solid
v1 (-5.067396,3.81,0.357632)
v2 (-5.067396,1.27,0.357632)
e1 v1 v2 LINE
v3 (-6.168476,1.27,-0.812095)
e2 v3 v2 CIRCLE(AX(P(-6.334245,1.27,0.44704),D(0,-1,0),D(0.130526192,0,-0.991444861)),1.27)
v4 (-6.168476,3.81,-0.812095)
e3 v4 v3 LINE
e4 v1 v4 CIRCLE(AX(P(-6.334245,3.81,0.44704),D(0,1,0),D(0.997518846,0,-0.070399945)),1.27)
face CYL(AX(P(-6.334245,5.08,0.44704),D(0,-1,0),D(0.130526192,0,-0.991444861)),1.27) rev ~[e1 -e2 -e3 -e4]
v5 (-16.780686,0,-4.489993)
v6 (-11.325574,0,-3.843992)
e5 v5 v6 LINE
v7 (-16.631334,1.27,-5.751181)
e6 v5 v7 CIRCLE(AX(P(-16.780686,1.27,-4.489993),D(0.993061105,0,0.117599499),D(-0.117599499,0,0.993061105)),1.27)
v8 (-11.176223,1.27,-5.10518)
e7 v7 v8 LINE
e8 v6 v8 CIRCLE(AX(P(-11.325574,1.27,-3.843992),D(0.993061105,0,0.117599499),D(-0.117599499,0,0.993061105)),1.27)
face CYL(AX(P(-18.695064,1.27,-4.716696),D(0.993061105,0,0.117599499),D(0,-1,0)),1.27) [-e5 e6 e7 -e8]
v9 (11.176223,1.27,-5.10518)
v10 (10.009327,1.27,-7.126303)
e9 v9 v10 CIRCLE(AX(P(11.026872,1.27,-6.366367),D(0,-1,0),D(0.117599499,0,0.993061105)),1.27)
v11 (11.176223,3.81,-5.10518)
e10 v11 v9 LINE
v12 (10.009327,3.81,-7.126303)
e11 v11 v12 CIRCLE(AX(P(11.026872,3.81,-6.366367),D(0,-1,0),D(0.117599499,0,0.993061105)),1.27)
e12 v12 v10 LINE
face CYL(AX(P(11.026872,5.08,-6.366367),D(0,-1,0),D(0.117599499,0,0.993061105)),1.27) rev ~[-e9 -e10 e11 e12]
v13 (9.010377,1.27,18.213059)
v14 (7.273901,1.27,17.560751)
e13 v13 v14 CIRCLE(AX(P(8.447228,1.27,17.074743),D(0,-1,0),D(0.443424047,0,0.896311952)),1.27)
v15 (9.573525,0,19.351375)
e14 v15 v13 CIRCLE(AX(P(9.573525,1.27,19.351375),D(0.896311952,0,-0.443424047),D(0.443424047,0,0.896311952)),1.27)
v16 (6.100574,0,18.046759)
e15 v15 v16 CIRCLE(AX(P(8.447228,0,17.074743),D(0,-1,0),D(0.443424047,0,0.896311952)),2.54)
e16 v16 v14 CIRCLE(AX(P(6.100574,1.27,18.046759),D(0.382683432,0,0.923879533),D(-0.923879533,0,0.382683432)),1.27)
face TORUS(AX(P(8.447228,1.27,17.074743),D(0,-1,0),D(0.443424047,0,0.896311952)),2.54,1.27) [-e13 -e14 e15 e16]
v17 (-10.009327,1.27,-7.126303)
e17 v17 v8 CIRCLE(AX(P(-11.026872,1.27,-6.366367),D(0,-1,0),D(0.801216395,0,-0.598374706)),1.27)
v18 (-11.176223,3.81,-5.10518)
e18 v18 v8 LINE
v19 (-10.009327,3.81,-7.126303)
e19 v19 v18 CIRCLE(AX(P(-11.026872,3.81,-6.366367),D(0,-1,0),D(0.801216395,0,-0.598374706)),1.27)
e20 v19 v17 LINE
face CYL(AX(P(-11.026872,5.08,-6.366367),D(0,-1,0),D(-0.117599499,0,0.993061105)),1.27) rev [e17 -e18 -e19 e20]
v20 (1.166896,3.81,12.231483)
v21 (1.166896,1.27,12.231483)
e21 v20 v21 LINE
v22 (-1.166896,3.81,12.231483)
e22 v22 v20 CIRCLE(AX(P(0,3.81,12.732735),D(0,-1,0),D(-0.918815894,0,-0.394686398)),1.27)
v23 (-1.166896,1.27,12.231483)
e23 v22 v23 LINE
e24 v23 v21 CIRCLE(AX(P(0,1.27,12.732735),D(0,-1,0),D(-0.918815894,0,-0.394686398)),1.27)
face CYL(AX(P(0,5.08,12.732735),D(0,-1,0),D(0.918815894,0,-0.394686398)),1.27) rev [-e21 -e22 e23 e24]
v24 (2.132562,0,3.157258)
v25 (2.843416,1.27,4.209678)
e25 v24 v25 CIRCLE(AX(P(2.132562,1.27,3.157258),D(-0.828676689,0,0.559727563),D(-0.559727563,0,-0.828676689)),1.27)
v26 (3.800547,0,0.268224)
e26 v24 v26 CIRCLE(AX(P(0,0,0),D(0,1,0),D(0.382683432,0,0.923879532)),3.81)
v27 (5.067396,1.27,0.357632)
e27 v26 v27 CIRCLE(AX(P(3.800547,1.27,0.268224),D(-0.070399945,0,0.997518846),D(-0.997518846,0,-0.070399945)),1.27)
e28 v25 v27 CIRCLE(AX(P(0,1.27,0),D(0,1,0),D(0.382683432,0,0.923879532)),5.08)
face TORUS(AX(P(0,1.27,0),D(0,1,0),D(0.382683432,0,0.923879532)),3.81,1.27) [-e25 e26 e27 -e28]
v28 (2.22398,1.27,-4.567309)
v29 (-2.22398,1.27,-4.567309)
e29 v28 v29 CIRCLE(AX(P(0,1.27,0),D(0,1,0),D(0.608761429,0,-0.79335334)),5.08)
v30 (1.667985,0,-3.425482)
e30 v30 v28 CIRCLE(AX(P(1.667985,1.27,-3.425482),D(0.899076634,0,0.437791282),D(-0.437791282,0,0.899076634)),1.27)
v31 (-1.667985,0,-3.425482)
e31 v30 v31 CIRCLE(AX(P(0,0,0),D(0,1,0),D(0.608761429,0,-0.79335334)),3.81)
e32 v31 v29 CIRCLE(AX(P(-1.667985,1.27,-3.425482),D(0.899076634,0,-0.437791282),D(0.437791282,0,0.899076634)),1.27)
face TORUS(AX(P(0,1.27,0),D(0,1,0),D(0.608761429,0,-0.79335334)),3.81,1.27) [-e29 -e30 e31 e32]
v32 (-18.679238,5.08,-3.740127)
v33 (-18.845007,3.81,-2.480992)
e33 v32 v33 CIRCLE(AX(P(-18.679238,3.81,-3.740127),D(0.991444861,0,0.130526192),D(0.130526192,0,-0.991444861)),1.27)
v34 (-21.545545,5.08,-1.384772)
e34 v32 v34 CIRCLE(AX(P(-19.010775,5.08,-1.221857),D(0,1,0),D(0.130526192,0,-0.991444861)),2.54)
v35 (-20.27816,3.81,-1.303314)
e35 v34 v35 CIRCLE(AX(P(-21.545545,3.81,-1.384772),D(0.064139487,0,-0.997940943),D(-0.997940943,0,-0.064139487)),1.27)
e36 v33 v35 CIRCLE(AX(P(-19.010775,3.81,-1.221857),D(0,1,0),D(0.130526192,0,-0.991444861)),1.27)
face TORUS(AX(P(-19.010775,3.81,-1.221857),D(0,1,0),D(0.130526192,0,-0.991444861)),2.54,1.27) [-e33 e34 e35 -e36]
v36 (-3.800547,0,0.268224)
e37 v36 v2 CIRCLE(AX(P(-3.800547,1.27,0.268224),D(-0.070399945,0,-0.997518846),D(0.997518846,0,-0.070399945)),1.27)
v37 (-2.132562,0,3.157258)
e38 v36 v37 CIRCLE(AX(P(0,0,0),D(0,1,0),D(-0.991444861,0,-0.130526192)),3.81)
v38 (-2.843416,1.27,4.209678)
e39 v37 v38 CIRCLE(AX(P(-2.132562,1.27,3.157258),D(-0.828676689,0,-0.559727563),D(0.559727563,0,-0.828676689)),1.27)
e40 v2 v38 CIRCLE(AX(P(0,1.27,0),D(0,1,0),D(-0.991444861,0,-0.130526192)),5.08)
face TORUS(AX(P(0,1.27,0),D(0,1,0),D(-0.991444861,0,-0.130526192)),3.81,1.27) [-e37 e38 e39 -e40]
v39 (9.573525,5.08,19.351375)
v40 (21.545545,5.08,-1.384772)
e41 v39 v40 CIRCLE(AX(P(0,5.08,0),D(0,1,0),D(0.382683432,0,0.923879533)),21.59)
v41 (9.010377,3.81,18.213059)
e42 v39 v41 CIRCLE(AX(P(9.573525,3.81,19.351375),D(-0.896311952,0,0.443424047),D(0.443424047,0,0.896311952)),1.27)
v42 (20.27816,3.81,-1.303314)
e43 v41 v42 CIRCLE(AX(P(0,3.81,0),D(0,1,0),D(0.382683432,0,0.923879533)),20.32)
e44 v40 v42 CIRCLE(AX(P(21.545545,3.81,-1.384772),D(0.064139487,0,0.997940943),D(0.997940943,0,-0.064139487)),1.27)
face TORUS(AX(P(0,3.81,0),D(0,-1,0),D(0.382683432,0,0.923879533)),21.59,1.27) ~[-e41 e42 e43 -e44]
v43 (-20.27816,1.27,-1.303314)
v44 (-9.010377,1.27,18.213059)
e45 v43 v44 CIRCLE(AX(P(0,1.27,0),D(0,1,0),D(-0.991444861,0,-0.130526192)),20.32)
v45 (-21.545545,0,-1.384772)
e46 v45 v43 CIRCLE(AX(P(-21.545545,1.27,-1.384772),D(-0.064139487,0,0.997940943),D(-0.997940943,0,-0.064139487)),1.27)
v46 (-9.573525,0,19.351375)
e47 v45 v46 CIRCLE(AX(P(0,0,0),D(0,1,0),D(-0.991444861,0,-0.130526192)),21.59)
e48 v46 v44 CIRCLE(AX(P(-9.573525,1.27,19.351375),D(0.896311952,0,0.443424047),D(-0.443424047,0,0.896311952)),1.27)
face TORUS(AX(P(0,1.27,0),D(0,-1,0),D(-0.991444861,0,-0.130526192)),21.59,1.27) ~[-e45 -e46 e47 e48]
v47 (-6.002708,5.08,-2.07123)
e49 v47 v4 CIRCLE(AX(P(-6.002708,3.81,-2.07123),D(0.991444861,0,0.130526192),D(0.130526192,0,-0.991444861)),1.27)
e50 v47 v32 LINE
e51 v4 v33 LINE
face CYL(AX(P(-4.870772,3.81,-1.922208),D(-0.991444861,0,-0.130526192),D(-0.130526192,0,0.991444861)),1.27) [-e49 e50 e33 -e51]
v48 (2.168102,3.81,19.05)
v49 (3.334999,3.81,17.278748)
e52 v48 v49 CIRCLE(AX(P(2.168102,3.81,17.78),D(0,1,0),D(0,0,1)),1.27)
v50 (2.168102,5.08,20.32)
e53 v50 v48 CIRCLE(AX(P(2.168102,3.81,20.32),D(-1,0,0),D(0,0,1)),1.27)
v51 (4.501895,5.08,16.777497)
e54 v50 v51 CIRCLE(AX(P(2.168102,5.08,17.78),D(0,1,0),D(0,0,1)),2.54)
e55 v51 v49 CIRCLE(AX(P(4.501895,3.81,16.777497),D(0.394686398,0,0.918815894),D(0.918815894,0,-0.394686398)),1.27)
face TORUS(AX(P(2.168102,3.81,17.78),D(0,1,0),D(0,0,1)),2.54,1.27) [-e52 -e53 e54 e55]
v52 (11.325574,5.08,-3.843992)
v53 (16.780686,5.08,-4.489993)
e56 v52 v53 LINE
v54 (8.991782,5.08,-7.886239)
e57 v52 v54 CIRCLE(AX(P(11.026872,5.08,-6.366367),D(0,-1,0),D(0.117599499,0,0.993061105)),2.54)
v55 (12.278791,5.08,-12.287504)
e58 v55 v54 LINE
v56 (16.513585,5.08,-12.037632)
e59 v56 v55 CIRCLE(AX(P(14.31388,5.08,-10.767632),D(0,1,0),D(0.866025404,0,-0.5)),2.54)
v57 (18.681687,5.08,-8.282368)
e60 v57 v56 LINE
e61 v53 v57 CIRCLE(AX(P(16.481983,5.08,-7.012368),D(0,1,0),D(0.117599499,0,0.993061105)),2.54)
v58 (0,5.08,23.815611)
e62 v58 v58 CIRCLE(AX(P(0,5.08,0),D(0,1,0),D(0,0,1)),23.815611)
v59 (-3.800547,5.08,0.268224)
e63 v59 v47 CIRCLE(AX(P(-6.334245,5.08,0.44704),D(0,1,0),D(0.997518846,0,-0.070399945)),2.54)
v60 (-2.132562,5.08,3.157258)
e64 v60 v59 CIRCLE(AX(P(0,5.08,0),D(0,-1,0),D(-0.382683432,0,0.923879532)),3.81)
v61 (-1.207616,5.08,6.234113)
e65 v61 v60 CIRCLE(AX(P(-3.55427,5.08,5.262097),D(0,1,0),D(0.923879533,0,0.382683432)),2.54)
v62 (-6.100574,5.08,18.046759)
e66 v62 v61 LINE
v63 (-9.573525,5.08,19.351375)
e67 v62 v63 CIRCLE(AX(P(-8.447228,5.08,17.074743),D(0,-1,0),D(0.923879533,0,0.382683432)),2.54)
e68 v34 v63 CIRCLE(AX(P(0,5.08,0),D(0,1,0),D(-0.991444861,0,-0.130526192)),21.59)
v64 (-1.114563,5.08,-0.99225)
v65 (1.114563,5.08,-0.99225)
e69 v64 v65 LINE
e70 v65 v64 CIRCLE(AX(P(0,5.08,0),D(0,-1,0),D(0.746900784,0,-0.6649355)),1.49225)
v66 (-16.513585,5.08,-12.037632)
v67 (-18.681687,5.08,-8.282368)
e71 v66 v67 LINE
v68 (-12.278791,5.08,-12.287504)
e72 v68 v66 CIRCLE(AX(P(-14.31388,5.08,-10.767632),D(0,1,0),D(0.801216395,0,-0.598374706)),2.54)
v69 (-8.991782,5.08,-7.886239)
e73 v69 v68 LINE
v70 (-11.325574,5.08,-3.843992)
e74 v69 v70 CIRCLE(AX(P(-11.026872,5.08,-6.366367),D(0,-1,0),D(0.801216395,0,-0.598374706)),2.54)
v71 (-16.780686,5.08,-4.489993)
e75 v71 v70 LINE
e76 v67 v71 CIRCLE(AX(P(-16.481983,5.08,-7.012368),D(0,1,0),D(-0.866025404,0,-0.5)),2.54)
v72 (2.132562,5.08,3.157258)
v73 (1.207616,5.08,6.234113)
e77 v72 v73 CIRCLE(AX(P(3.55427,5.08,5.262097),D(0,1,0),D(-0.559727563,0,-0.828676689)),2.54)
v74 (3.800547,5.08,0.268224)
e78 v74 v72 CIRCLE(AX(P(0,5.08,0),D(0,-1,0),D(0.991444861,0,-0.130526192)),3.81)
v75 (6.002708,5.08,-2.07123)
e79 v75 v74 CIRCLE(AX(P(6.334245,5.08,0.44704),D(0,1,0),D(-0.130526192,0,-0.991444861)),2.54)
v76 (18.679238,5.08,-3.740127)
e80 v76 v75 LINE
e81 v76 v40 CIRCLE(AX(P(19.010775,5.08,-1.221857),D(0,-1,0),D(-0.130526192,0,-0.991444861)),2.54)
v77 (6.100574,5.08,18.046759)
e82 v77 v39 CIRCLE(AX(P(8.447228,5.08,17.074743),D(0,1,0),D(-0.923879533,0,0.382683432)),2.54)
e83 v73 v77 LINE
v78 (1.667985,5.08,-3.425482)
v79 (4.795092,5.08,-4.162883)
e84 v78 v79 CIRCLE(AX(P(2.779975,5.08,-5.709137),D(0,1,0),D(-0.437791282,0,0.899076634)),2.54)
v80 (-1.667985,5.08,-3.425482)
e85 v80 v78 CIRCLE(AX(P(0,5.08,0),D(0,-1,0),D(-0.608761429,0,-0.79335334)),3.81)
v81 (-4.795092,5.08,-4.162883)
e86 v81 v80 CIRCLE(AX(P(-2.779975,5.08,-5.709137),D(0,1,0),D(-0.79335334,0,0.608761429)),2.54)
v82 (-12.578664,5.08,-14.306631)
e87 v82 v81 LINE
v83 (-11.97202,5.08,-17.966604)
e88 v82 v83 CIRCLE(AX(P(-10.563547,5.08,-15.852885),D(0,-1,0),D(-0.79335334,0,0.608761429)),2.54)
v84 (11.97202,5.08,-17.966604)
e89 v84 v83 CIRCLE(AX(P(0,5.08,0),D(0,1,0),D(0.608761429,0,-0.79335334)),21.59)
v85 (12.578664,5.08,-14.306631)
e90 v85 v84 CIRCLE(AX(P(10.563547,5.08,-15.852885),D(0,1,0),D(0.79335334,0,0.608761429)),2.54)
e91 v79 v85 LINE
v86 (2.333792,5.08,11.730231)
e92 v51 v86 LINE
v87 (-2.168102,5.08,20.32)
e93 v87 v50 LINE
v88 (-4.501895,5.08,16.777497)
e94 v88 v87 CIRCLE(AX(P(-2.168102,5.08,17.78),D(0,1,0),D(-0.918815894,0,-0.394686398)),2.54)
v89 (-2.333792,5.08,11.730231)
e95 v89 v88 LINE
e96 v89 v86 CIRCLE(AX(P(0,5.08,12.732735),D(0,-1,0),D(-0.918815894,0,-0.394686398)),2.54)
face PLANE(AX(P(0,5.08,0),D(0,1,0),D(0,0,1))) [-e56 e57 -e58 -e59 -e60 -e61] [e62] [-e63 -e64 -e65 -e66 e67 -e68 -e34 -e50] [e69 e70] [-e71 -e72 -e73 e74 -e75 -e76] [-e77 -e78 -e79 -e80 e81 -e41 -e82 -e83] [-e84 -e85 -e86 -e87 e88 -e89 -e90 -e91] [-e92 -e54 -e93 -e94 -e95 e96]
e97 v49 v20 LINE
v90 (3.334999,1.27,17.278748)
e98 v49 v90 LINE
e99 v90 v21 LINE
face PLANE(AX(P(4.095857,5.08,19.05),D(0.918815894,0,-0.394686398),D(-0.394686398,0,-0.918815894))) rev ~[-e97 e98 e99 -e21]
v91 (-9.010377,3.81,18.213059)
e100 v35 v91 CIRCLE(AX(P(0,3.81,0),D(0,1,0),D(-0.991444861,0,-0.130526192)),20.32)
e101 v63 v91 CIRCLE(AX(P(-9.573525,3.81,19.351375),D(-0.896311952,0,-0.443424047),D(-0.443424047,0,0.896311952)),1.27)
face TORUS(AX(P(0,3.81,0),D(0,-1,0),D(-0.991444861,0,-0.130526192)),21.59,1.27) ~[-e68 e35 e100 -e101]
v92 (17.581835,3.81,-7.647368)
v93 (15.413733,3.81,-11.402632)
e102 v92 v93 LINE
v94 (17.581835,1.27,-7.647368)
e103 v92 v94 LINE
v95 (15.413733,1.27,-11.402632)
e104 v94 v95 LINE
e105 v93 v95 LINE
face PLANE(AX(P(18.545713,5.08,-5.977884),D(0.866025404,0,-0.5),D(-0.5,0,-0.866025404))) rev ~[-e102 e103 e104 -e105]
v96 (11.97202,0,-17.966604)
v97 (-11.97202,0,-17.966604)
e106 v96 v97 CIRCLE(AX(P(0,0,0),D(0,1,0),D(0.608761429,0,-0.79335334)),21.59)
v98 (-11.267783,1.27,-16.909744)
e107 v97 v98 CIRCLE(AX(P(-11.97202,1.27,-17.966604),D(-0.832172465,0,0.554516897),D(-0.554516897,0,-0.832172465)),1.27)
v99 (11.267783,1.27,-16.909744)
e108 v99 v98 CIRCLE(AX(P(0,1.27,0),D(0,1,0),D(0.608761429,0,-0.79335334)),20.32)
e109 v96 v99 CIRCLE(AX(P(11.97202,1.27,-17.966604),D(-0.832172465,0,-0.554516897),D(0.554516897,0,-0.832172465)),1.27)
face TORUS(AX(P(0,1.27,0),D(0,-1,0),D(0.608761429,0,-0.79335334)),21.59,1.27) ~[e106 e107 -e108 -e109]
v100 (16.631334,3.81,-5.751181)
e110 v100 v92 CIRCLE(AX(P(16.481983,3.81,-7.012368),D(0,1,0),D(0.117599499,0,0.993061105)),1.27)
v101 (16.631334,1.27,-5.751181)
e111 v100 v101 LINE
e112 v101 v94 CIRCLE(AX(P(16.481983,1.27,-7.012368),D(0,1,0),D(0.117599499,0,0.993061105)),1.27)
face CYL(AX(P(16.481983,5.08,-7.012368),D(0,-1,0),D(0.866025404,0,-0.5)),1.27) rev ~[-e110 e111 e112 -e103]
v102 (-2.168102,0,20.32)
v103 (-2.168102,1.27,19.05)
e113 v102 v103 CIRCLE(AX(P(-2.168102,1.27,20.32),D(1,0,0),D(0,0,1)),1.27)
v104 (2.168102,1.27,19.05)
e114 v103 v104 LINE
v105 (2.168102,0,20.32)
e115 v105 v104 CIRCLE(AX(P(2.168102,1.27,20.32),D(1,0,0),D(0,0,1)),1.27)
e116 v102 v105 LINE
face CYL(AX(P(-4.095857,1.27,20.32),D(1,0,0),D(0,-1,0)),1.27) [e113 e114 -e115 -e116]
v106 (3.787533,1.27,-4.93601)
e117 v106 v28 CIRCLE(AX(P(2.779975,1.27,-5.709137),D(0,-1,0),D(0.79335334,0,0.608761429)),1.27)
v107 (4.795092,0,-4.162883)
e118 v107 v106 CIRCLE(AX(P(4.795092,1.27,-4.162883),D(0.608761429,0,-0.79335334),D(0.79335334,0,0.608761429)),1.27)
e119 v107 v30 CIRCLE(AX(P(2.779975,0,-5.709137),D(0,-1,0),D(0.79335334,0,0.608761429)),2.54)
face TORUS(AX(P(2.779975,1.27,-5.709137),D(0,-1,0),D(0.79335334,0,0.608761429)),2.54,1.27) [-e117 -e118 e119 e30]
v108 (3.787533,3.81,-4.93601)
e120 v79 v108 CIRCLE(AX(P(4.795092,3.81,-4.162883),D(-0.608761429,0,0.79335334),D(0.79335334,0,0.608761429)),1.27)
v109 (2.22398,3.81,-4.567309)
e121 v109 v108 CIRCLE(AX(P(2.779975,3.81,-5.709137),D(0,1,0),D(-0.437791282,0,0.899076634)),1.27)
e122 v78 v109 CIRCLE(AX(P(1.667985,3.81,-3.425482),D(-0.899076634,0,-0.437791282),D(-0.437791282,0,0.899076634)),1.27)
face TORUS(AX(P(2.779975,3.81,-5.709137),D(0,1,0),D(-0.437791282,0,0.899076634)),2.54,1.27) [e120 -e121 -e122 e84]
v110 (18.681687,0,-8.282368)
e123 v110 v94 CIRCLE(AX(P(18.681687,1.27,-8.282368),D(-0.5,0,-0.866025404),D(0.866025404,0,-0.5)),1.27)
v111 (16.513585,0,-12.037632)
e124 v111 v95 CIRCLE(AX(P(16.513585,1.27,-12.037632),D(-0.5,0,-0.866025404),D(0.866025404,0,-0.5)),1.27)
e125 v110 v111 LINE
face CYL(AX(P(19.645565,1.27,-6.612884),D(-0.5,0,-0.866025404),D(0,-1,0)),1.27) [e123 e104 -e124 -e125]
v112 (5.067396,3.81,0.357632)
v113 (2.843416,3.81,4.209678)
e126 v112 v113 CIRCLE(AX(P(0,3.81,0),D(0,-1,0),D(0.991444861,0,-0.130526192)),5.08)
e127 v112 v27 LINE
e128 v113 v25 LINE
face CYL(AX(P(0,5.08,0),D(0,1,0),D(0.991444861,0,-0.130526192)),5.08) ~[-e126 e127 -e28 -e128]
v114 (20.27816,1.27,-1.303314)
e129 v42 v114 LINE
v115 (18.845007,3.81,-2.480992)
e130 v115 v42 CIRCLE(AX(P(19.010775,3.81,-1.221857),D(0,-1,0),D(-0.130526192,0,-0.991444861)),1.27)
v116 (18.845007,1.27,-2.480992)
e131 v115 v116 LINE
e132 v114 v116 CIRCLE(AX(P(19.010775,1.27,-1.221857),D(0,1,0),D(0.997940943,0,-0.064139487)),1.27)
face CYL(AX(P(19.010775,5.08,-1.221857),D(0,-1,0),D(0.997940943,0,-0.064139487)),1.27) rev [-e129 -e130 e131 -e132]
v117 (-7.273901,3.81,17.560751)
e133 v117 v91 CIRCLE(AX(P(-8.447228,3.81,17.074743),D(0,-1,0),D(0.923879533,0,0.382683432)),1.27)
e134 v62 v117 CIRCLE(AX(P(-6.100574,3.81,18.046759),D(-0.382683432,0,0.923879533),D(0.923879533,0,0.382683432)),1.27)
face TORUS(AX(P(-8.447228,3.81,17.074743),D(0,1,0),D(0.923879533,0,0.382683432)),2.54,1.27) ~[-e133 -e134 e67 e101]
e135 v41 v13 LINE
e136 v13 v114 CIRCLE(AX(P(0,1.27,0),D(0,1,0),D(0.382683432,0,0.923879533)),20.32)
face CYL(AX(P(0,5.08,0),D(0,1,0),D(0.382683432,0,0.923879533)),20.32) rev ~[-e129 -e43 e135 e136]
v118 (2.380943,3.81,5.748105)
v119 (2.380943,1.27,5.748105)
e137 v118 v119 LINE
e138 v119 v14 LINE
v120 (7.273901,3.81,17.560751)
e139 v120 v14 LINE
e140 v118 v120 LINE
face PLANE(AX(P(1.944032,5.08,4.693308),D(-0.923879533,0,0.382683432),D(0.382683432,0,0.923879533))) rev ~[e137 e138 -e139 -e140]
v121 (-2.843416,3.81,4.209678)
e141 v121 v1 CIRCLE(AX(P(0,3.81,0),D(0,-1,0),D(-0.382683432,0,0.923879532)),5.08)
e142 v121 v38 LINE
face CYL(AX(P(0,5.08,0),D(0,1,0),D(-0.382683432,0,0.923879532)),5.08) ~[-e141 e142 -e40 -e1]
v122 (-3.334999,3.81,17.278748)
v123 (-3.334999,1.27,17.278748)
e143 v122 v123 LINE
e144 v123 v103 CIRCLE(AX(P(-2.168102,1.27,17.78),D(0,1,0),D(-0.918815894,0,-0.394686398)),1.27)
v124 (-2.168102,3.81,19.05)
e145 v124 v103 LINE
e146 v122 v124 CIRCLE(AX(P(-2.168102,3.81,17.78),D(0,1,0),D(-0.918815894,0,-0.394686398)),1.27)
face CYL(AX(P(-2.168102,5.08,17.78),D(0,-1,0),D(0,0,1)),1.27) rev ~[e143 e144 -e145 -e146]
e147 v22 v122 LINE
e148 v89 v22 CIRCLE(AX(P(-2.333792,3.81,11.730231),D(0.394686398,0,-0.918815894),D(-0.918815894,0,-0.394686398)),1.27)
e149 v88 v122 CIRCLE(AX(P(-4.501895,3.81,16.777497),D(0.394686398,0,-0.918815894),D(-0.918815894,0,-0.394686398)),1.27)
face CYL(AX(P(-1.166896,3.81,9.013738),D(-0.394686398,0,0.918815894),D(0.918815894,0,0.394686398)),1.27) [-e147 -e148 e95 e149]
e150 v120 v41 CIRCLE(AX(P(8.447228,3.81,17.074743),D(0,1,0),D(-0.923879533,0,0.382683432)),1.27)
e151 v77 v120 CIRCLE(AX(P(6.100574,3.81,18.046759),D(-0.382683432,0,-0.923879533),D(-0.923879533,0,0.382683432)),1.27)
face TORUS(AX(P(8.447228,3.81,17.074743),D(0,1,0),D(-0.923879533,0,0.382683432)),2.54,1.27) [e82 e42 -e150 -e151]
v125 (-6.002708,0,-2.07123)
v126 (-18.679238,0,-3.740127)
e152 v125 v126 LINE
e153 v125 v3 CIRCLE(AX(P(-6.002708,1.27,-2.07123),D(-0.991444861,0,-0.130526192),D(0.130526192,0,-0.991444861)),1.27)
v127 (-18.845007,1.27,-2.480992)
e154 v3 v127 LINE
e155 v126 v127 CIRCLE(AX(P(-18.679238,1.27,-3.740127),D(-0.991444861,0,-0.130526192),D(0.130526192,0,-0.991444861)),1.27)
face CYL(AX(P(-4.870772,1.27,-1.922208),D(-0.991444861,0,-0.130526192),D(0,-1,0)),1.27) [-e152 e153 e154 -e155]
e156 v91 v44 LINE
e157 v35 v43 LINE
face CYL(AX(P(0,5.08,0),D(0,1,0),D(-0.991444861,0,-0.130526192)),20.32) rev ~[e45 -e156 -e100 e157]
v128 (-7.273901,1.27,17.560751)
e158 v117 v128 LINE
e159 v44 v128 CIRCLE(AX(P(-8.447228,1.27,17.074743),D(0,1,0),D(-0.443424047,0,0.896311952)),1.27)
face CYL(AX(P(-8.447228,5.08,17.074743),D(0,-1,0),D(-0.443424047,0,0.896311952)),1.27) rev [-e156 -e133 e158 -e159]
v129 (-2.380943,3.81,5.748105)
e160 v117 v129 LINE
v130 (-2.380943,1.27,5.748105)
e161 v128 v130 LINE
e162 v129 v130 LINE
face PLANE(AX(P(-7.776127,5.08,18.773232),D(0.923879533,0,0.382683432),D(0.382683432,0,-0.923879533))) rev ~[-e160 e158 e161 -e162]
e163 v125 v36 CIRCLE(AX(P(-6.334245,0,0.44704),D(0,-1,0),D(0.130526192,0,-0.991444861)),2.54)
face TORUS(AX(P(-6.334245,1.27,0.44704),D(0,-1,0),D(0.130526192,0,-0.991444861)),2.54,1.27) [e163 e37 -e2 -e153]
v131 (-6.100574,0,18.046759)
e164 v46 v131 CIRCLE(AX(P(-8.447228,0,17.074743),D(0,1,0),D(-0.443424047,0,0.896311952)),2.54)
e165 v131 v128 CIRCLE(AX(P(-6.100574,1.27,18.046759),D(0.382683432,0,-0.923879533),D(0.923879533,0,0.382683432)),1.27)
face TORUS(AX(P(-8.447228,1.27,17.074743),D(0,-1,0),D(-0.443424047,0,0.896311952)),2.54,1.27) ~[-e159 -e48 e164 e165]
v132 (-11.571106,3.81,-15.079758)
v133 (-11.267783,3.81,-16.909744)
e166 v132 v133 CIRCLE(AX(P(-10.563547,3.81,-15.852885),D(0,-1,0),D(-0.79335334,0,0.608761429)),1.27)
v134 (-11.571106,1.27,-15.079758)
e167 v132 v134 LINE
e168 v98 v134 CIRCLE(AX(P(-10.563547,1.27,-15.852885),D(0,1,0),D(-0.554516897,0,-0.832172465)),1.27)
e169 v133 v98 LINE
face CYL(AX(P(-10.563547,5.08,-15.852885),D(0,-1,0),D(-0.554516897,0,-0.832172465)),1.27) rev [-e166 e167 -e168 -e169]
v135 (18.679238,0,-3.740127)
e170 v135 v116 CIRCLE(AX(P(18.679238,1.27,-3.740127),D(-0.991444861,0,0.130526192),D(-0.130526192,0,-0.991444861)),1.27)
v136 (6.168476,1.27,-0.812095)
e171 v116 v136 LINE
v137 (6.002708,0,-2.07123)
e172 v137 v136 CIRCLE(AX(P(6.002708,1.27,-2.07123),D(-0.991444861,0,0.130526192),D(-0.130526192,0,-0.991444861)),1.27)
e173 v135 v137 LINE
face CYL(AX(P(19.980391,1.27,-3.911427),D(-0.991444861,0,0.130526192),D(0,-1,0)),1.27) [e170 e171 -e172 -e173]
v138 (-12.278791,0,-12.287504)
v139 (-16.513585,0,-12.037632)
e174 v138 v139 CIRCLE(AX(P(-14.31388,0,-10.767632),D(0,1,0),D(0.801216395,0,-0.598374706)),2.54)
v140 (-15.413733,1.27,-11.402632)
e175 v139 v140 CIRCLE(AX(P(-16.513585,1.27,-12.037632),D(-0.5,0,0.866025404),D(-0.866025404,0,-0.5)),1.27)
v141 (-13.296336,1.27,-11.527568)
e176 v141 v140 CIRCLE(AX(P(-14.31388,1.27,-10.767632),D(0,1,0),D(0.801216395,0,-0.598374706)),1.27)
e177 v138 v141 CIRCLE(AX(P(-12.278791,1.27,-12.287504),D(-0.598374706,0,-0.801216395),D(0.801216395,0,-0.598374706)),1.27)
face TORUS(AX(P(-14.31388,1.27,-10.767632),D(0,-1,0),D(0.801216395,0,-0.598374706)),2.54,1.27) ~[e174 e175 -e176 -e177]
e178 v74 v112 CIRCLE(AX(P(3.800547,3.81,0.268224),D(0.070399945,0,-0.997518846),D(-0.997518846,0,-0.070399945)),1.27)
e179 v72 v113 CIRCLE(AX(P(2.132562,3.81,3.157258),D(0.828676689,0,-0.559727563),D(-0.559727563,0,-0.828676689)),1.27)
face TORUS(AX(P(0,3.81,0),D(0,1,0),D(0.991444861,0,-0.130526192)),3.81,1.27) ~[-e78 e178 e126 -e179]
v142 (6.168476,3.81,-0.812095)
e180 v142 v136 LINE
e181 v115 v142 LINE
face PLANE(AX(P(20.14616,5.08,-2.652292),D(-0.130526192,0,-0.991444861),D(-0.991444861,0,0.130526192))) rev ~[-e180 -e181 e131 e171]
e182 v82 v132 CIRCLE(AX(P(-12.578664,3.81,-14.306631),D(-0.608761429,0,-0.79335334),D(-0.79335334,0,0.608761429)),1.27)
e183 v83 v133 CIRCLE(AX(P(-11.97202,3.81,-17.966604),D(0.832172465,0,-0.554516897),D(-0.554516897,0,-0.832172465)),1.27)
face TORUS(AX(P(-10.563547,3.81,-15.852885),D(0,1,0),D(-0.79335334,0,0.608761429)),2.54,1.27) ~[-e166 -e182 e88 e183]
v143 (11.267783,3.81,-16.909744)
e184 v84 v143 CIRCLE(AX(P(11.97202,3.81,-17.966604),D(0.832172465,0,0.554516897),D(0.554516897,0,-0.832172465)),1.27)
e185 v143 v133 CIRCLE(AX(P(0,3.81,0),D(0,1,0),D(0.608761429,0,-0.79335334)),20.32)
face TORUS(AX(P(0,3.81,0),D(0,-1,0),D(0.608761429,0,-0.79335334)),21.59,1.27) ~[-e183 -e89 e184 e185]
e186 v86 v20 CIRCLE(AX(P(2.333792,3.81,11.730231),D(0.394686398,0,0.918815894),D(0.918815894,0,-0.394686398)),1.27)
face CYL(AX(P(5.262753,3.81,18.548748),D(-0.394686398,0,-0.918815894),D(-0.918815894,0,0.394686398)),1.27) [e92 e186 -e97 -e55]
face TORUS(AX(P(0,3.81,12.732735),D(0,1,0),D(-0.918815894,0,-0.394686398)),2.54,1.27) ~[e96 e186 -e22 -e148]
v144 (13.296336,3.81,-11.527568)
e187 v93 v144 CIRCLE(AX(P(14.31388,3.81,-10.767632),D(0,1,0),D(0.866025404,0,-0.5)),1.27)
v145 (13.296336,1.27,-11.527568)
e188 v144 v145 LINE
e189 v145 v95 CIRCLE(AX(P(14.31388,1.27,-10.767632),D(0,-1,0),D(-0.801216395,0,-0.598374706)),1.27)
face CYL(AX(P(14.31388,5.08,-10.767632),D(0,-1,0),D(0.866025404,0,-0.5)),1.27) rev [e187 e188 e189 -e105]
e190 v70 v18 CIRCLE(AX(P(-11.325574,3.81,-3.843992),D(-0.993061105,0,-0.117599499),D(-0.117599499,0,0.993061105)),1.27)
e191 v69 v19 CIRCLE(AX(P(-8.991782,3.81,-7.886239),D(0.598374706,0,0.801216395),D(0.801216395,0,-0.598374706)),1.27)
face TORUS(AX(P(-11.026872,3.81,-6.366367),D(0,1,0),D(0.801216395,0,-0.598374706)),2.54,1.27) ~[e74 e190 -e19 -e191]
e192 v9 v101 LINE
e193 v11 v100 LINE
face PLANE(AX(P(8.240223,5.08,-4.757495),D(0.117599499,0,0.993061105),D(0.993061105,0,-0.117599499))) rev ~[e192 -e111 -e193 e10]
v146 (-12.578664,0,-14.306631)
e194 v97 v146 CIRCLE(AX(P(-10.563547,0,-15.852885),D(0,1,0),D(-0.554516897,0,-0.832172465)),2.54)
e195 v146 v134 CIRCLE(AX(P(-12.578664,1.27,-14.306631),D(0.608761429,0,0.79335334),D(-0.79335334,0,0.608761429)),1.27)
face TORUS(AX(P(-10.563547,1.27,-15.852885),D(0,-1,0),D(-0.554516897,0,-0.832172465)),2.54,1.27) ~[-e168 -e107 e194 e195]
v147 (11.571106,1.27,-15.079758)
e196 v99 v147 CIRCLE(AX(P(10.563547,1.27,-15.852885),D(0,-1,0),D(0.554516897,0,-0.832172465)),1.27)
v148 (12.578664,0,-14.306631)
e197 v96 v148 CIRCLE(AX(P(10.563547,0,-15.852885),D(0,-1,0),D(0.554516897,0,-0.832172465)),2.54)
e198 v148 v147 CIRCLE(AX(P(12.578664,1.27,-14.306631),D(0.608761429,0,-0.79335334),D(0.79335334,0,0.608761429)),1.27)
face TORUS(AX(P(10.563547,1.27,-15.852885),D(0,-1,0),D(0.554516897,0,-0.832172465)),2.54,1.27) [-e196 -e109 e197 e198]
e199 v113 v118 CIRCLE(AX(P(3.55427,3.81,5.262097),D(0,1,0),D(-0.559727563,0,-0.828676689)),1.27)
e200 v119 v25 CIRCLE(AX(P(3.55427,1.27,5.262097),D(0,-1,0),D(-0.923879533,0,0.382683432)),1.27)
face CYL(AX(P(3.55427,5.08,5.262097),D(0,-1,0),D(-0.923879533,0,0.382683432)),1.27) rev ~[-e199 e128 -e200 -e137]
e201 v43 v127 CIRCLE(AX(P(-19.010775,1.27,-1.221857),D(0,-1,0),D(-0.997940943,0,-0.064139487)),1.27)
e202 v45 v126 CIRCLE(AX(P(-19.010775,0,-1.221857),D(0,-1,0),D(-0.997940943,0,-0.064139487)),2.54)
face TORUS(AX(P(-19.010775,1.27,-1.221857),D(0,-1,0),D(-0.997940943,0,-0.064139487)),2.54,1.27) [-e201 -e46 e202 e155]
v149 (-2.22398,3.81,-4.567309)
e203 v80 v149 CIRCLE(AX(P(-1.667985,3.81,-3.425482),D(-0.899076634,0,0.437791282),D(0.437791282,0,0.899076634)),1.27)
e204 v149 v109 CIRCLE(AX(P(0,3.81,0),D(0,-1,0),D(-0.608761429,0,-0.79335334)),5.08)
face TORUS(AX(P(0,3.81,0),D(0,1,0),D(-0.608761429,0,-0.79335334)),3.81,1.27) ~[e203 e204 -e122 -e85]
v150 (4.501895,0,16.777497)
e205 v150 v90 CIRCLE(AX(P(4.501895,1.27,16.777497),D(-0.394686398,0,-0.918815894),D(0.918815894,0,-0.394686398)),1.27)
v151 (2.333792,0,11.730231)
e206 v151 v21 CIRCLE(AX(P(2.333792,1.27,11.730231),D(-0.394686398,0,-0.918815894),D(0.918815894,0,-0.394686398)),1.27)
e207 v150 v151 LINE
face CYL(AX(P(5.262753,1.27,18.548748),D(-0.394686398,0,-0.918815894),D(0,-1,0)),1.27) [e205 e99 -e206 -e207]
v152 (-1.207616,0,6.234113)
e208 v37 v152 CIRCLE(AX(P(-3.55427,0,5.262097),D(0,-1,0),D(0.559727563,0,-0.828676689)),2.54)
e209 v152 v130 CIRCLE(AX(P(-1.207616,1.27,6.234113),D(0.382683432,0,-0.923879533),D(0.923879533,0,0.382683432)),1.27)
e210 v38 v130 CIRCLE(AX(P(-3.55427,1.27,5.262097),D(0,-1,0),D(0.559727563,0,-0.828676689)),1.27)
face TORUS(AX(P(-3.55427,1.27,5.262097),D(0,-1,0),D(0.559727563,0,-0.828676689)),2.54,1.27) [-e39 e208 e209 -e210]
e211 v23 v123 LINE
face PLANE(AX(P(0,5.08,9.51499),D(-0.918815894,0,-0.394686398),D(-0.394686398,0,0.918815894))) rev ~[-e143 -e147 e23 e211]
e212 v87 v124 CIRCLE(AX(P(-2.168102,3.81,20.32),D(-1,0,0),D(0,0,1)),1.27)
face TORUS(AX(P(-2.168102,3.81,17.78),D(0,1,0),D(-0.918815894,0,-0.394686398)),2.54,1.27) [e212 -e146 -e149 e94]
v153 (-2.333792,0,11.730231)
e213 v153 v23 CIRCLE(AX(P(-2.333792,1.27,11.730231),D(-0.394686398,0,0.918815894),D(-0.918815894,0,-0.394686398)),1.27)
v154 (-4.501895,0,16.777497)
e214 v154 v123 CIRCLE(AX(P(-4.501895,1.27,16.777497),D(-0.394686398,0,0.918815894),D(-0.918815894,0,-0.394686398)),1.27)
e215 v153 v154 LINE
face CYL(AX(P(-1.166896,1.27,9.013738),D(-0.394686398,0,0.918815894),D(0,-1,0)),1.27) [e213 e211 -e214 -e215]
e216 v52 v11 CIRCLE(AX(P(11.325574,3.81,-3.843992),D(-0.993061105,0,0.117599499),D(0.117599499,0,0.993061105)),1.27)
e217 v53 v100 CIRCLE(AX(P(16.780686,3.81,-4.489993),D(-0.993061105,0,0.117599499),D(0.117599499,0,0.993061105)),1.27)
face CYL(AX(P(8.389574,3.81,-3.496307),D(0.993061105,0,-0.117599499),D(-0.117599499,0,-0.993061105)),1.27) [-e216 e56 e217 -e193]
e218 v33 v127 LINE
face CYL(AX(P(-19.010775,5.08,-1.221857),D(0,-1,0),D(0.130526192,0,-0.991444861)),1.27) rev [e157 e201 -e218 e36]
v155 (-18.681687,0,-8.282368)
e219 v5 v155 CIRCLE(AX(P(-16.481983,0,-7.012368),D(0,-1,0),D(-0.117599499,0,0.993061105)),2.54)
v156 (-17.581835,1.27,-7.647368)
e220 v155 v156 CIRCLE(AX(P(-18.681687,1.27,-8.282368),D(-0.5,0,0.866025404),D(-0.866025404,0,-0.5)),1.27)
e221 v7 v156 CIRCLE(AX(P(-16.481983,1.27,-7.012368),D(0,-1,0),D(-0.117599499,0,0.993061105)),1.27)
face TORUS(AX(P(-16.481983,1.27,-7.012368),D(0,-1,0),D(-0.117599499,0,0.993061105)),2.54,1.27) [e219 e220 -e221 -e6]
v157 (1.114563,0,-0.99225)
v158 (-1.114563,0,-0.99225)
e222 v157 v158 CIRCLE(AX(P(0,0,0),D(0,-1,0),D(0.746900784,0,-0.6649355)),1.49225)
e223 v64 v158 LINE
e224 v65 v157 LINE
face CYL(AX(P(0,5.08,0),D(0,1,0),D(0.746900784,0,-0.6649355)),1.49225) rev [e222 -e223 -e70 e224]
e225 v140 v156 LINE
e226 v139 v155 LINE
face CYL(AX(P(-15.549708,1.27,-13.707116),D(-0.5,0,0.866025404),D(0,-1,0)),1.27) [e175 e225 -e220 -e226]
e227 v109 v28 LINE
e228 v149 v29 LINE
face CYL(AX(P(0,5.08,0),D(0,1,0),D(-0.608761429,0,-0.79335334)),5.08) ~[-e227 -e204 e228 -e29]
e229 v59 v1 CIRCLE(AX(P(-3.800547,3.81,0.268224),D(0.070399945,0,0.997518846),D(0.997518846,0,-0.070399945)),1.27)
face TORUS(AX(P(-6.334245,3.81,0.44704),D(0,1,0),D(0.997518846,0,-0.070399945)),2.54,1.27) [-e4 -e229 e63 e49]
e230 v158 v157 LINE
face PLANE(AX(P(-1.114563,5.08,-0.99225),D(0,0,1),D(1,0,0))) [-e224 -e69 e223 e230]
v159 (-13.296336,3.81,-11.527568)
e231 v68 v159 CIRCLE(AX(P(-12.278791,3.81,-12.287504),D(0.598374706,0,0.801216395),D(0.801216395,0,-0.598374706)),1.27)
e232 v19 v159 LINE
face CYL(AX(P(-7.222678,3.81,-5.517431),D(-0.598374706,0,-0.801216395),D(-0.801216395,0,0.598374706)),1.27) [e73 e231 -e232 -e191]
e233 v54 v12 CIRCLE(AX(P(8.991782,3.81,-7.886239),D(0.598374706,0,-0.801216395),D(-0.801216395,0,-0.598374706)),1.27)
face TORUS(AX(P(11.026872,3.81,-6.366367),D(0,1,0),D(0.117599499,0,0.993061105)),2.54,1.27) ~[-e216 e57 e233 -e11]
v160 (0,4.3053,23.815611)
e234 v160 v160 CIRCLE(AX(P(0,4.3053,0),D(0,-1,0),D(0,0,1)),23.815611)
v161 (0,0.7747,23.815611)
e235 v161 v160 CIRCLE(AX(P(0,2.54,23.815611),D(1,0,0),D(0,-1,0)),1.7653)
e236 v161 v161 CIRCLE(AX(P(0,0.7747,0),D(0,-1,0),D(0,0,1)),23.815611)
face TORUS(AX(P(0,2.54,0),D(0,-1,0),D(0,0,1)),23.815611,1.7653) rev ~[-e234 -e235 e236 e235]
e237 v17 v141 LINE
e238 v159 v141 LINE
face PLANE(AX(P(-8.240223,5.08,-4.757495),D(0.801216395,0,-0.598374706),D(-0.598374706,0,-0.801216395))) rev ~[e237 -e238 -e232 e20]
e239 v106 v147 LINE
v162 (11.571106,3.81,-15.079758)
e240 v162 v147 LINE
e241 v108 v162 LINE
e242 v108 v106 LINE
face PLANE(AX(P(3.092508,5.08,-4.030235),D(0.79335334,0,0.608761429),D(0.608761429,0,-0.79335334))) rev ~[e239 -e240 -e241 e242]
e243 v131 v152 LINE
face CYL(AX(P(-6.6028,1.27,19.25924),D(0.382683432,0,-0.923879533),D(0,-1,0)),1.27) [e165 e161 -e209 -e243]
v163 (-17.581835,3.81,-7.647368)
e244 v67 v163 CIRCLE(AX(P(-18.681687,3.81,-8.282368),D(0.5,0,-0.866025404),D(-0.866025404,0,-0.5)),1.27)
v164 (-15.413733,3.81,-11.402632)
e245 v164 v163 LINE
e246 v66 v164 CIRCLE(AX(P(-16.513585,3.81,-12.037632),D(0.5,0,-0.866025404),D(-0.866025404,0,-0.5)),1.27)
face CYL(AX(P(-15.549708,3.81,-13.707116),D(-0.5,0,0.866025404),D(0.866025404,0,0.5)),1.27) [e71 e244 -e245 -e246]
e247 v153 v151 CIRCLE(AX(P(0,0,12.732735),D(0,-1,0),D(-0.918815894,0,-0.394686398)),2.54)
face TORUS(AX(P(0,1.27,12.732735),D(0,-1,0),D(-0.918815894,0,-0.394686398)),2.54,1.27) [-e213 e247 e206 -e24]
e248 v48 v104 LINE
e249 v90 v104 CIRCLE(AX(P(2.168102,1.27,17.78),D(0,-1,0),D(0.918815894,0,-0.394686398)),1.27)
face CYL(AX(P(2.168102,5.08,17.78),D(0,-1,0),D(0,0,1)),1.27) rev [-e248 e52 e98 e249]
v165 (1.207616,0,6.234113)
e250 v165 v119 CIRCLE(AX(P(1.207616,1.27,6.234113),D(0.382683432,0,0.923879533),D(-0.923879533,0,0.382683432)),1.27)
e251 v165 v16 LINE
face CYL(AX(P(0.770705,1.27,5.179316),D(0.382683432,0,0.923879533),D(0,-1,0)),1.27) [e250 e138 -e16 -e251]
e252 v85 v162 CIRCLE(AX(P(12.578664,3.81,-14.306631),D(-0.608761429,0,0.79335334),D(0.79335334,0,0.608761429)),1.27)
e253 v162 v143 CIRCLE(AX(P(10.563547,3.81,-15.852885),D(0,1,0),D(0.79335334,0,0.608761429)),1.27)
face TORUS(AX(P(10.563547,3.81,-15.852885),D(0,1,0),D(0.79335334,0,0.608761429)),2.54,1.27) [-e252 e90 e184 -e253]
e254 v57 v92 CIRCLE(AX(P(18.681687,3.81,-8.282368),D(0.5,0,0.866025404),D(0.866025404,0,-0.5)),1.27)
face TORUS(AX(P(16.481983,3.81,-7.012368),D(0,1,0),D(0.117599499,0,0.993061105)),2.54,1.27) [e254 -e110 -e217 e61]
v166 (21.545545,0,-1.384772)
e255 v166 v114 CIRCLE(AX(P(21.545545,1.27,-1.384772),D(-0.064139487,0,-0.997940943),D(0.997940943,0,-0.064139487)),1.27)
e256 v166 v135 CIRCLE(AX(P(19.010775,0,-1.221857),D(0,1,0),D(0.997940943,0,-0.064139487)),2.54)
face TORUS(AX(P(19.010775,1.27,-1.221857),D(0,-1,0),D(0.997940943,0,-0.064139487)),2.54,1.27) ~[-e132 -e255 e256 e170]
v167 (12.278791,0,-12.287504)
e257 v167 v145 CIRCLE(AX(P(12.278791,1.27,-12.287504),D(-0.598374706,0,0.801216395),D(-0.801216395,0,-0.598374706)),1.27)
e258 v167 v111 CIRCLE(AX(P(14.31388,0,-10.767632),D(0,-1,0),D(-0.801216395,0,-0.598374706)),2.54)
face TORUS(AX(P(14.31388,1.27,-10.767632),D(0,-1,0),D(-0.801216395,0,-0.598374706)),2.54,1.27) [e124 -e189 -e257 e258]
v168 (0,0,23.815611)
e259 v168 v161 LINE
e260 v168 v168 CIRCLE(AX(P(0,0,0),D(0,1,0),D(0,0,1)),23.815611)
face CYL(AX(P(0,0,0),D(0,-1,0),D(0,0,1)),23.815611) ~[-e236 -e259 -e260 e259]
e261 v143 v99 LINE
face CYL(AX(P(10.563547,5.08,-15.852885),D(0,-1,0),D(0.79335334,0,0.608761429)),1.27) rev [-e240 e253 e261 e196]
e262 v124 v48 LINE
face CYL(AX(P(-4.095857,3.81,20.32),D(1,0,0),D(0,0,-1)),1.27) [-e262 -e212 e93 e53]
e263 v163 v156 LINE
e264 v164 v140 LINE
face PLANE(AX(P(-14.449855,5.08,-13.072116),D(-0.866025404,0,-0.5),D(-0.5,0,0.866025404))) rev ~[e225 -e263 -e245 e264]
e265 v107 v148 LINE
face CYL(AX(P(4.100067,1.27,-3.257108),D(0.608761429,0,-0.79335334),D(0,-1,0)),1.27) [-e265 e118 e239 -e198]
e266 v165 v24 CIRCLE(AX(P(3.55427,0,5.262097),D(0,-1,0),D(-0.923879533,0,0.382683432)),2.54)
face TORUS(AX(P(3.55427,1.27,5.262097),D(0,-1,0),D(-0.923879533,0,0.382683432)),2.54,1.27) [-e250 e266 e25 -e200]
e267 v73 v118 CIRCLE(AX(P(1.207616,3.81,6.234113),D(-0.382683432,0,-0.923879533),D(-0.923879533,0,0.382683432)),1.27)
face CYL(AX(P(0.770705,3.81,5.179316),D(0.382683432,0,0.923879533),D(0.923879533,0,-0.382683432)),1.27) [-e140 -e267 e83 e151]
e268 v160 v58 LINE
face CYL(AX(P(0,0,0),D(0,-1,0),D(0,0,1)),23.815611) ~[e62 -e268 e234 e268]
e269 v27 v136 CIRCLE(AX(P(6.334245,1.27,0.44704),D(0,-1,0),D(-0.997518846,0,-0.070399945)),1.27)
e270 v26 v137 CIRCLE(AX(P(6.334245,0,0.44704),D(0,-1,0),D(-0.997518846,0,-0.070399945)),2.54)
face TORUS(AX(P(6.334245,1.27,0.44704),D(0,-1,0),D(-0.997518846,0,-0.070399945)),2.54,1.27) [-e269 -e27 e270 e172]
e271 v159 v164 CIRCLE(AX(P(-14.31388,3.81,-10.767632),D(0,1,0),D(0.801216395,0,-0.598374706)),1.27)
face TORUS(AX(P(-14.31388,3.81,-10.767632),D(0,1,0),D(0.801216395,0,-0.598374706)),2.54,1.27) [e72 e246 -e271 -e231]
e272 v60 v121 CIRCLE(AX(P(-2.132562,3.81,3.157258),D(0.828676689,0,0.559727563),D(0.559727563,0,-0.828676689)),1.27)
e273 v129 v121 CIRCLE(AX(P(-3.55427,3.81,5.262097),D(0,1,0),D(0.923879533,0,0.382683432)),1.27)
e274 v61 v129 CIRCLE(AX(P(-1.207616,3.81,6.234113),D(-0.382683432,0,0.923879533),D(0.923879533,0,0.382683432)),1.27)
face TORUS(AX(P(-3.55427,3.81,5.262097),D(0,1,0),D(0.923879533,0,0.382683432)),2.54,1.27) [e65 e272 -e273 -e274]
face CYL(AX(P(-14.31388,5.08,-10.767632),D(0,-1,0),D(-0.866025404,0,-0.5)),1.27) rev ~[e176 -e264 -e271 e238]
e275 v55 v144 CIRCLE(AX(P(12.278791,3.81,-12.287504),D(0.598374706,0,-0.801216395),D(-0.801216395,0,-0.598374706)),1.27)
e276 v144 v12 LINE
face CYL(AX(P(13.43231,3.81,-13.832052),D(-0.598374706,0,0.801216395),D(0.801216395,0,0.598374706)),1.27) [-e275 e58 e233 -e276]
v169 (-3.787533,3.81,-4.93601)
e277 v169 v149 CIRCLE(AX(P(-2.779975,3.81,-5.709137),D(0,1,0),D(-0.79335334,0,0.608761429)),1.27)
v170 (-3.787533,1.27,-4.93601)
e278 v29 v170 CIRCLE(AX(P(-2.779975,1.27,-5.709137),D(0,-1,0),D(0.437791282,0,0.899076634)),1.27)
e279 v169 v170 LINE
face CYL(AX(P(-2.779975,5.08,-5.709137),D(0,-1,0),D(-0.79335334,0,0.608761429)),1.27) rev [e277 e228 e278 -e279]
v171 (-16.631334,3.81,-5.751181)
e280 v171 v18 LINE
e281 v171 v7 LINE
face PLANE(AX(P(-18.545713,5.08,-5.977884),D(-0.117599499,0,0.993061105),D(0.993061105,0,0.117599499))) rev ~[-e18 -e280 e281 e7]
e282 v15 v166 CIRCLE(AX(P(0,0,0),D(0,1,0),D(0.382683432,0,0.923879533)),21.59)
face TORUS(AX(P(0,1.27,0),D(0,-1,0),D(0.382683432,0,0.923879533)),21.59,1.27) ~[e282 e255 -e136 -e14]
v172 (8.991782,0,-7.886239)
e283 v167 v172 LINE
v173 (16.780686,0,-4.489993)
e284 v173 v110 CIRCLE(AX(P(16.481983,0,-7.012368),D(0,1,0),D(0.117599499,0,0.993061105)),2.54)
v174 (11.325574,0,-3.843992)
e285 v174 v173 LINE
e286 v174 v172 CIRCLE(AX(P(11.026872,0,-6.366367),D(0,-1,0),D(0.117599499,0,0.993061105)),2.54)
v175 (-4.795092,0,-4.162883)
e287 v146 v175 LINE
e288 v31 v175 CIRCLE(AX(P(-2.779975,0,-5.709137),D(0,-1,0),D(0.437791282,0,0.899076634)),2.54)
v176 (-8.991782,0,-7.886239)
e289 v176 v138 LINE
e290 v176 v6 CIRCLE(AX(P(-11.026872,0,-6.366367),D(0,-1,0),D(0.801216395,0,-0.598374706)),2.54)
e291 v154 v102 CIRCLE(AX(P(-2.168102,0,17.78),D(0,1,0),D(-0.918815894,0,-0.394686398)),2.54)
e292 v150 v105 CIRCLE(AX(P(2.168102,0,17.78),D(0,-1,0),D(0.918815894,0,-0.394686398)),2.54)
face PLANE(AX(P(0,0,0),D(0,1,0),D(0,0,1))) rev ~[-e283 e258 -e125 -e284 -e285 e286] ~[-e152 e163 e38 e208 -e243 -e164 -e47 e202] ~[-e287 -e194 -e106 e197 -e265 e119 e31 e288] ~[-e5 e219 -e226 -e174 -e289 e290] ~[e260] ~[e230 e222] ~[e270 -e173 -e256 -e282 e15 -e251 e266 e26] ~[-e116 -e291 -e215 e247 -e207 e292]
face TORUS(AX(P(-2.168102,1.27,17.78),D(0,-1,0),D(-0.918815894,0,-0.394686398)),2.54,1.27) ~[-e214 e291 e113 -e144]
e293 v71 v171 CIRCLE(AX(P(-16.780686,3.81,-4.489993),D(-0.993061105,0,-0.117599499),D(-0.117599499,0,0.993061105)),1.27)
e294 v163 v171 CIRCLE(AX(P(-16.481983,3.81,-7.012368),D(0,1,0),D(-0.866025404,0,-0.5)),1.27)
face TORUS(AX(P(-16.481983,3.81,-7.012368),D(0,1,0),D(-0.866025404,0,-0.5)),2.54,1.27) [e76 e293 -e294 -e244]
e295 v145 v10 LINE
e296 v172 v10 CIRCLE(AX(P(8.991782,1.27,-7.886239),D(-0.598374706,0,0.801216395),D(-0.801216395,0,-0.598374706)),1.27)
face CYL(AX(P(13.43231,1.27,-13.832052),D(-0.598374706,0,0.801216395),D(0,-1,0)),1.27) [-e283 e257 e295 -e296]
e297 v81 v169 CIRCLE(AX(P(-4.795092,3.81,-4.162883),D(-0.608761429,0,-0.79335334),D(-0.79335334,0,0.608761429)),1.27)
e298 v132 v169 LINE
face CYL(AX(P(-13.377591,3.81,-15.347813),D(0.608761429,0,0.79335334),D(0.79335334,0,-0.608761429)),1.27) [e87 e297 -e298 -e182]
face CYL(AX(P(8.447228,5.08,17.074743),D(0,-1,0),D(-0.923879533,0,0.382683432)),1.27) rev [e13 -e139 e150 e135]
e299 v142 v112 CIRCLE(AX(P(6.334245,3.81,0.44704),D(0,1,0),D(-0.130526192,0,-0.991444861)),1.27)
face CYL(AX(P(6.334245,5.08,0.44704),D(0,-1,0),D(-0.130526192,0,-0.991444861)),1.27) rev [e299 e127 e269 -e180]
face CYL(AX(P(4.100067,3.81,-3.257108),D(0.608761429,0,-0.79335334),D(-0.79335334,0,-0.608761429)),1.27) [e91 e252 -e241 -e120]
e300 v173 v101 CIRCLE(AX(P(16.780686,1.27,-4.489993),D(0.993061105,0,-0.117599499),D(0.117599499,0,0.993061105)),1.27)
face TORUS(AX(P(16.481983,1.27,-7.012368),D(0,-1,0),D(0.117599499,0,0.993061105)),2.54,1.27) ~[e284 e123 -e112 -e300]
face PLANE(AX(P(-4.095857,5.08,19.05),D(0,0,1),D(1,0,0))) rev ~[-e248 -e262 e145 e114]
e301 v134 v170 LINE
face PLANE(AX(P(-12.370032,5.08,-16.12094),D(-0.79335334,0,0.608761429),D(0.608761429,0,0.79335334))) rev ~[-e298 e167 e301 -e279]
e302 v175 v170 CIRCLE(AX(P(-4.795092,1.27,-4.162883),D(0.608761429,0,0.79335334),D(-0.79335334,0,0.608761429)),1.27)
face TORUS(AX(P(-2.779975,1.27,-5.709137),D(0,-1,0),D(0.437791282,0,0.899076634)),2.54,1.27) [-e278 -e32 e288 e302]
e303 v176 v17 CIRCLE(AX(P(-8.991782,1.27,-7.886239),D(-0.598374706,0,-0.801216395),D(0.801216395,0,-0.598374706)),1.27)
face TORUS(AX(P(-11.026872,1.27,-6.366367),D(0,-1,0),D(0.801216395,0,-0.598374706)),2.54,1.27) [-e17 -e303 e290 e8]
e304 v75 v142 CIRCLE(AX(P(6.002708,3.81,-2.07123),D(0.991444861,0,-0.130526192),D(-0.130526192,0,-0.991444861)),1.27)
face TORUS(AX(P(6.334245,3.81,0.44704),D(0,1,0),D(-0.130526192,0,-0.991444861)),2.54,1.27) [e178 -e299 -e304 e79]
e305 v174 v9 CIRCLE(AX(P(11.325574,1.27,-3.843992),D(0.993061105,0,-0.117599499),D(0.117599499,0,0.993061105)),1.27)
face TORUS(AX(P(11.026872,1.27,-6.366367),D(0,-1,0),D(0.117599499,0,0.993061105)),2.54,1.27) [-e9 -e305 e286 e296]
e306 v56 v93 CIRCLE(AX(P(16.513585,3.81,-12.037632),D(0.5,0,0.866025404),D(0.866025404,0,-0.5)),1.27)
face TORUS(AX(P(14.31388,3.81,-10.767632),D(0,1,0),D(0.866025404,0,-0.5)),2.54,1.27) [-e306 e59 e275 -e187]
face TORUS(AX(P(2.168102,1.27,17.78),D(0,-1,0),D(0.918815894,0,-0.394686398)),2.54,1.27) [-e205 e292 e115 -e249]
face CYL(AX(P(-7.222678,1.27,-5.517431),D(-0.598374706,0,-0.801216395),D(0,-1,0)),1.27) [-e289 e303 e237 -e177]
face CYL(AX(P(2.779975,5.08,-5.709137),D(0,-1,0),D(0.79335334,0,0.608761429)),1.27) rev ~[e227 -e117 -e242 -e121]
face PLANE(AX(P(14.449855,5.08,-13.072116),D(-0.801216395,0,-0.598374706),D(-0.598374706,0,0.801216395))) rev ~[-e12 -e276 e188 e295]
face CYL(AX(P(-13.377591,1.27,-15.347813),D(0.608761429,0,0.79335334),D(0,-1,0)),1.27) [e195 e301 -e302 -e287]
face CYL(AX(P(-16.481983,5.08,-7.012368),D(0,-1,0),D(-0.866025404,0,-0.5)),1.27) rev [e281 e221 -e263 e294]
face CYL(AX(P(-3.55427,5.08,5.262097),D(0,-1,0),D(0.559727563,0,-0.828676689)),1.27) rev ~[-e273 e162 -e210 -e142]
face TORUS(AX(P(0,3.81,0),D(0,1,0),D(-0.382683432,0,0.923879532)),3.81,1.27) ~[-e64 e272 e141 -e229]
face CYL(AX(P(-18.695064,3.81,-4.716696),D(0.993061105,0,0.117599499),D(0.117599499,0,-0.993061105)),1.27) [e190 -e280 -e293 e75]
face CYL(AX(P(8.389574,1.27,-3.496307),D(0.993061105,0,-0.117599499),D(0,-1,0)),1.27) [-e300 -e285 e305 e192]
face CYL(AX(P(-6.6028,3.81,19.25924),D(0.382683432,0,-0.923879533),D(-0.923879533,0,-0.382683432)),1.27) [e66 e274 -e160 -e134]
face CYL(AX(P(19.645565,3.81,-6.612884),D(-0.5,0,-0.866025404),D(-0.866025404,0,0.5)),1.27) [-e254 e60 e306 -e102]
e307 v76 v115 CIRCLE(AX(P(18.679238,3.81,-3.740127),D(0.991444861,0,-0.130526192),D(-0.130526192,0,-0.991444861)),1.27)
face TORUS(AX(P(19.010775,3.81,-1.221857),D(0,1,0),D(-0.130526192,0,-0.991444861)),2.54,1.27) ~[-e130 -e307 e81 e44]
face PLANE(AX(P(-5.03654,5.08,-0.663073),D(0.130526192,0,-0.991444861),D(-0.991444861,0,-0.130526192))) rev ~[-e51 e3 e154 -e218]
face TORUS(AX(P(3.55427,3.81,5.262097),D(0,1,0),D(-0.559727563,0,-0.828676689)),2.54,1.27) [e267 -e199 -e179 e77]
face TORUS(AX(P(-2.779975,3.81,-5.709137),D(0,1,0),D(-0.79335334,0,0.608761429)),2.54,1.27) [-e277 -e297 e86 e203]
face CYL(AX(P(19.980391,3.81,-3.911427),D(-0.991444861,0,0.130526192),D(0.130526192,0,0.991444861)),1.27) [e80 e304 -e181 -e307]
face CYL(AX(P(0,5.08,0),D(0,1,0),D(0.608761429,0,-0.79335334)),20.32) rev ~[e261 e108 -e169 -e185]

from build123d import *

# Parameters (mm, degrees)
SKETCH1_R                 = 23.815610662
BOSS_EXTRUDE1_DEPTH       = 5.08
CUT_EXTRUDE1_DEPTH        = 5.08
CUT_EXTRUDE3_DEPTH        = 35.061312694
FILLET22_R                = 1.27
CIRPATTERN1_COUNT         = 3
FILLET22_OF_CIRPATTERN1_R = 1.27
CUT_EXTRUDE4_DEPTH        = 5.08
FILLET23_R                = 1.27
CIRPATTERN2_COUNT         = 3
FILLET23_OF_CIRPATTERN2_R = 1.27


with BuildPart() as part:
    # Sketch1 → Boss-Extrude1 (new body)
    with BuildSketch(Plane(origin=(0, 0, 0), x_dir=(1, 0, 0), z_dir=(0, 1, 0))):
        with Locations(Location((0, 0, 0), (0, 0, 270))):
            Circle(SKETCH1_R)
    extrude(amount=BOSS_EXTRUDE1_DEPTH)

    # Sketch2 → Cut-Extrude1 (cut)
    with BuildSketch(Plane(origin=(0, 5.08, 0), x_dir=(1, 0, 0), z_dir=(0, 1, 0))):
        with BuildLine():
            Line((-1.114562695, 0.99225), (1.114562695, 0.99225))
            ThreePointArc((1.114562695, 0.99225), (0, -1.49225), (-1.114562695, 0.99225))
        make_face()
    extrude(amount=-CUT_EXTRUDE1_DEPTH, mode=Mode.SUBTRACT)

    # Sketch5 → Cut-Revolve2 (revolve, cut)
    with BuildSketch(Plane.XY, mode=Mode.PRIVATE) as cut_revolve2_sk:
        with BuildLine():
            Line((-23.815610662, 4.3053), (-23.815610662, 0.7747))
            ThreePointArc((-23.815610662, 0.7747), (-22.050310662, 2.54), (-23.815610662, 4.3053))
        make_face()
    revolve(cut_revolve2_sk.sketch.rotate(Axis((0, 4.3287014, 0), (0, -1, 0)), 270), axis=Axis((0, 4.3287014, 0), (0, -1, 0)), mode=Mode.SUBTRACT)

    # Sketch8 → Cut-Extrude3 (cut, through all)
    with BuildSketch(Plane(origin=(0, 5.08, 0), x_dir=(1, 0, 0), z_dir=(0, 1, 0))):
        with BuildLine():
            Line((3.092508059, 4.030234969), (12.370032237, 16.120939875))
            ThreePointArc((12.370032237, 16.120939875), (0, 20.32), (-12.370032237, 16.120939875))
            Line((-12.370032237, 16.120939875), (-3.092508059, 4.030234969))
            ThreePointArc((-3.092508059, 4.030234969), (0, 5.08), (3.092508059, 4.030234969))
        make_face()
    cut_extrude3 = extrude(amount=-CUT_EXTRUDE3_DEPTH, mode=Mode.SUBTRACT)

    # Fillet22
    fillet22_edges = [part.edges().sort_by_distance(p)[0] for p in [
        (-7.731270148, 0, -10.075587422),
        (-3.092508059, 2.54, -4.030234969),
        (0, 5.08, -20.32),
        (-12.370032237, 2.54, -16.120939875),
        (7.731270148, 0, -10.075587422),
        (12.370032237, 2.54, -16.120939875),
        (0, 0, -5.08),
        (3.092508059, 2.54, -4.030234969),
        (0, 0, -20.32),
        (-7.731270148, 5.08, -10.075587422),
        (0, 5.08, -5.08),
        (7.731270148, 5.08, -10.075587422),
    ]]
    fillet(fillet22_edges, radius=FILLET22_R)

    # CirPattern1: Cut-Extrude3 ×3 about axis
    cirpattern1_axis = Axis((0, 5.08, 0), (0, 1, 0))
    for i in range(1, CIRPATTERN1_COUNT):
        add(cut_extrude3.rotate(cirpattern1_axis, i * 360 / CIRPATTERN1_COUNT), mode=Mode.SUBTRACT)

    # Fillet22 of CirPattern1
    fillet22_of_cirpattern1_edges = [part.edges().sort_by_distance(p)[0] for p in [
        (-4.860079591, 0, 11.733270063),
        (-1.944031836, 2.54, 4.693308025),
        (-17.597636205, 5.08, 10.16),
        (-7.776127346, 2.54, 18.773232101),
        (-12.591349739, 0, -1.657682641),
        (-20.146159583, 2.54, -2.652292226),
        (-4.399409051, 0, 2.54),
        (-5.036539896, 2.54, -0.663073056),
        (-17.597636205, 0, 10.16),
        (-4.860079591, 5.08, 11.733270063),
        (-4.399409051, 5.08, 2.54),
        (-12.591349739, 5.08, -1.657682641),
        (12.591349739, 0, -1.657682641),
        (5.036539896, 2.54, -0.663073056),
        (17.597636205, 5.08, 10.16),
        (20.146159583, 2.54, -2.652292226),
        (4.860079591, 0, 11.733270063),
        (7.776127346, 2.54, 18.773232101),
        (4.399409051, 0, 2.54),
        (1.944031836, 2.54, 4.693308025),
        (17.597636205, 0, 10.16),
        (12.591349739, 5.08, -1.657682641),
        (4.399409051, 5.08, 2.54),
        (4.860079591, 5.08, 11.733270063),
    ]]
    fillet(fillet22_of_cirpattern1_edges, radius=FILLET22_OF_CIRPATTERN1_R)

    # Sketch9 → Cut-Extrude4 (cut)
    with BuildSketch(Plane(origin=(0, 5.08, 0), x_dir=(1, 0, 0), z_dir=(0, 1, 0))):
        Polygon((-4.095857255, -19.05), (4.095857255, -19.05), (0, -9.514990029), align=None)
    cut_extrude4 = extrude(amount=-CUT_EXTRUDE4_DEPTH, mode=Mode.SUBTRACT)

    # Fillet23
    fillet23_edges = [part.edges().sort_by_distance(p)[0] for p in [
        (-4.095857255, 2.54, 19.05),
        (0, 2.54, 9.514990029),
        (4.095857255, 2.54, 19.05),
        (-2.047928627, 5.08, 14.282495014),
        (0, 5.08, 19.05),
        (2.047928627, 5.08, 14.282495014),
        (-2.047928627, 0, 14.282495014),
        (2.047928627, 0, 14.282495014),
        (0, 0, 19.05),
    ]]
    fillet(fillet23_edges, radius=FILLET23_R)

    # CirPattern2: Cut-Extrude4 ×3 about axis
    cirpattern2_axis = Axis((0, 0, 0), (0, 1, 0))
    for i in range(1, CIRPATTERN2_COUNT):
        add(cut_extrude4.rotate(cirpattern2_axis, i * 360 / CIRPATTERN2_COUNT), mode=Mode.SUBTRACT)

    # Fillet23 of CirPattern2
    fillet23_of_cirpattern2_edges = [part.edges().sort_by_distance(p)[0] for p in [
        (18.54571257, 2.54, -5.977883567),
        (8.240223082, 2.54, -4.757495014),
        (14.449855315, 2.54, -13.072116433),
        (13.392967826, 5.08, -5.367689291),
        (16.497783942, 5.08, -9.525),
        (11.345039198, 5.08, -8.914805724),
        (13.392967826, 0, -5.367689291),
        (11.345039198, 0, -8.914805724),
        (16.497783942, 0, -9.525),
        (-14.449855315, 2.54, -13.072116433),
        (-8.240223082, 2.54, -4.757495014),
        (-18.54571257, 2.54, -5.977883567),
        (-11.345039198, 5.08, -8.914805724),
        (-16.497783942, 5.08, -9.525),
        (-13.392967826, 5.08, -5.367689291),
        (-11.345039198, 0, -8.914805724),
        (-13.392967826, 0, -5.367689291),
        (-16.497783942, 0, -9.525),
    ]]
    fillet(fillet23_of_cirpattern2_edges, radius=FILLET23_OF_CIRPATTERN2_R)


solid = part.part
